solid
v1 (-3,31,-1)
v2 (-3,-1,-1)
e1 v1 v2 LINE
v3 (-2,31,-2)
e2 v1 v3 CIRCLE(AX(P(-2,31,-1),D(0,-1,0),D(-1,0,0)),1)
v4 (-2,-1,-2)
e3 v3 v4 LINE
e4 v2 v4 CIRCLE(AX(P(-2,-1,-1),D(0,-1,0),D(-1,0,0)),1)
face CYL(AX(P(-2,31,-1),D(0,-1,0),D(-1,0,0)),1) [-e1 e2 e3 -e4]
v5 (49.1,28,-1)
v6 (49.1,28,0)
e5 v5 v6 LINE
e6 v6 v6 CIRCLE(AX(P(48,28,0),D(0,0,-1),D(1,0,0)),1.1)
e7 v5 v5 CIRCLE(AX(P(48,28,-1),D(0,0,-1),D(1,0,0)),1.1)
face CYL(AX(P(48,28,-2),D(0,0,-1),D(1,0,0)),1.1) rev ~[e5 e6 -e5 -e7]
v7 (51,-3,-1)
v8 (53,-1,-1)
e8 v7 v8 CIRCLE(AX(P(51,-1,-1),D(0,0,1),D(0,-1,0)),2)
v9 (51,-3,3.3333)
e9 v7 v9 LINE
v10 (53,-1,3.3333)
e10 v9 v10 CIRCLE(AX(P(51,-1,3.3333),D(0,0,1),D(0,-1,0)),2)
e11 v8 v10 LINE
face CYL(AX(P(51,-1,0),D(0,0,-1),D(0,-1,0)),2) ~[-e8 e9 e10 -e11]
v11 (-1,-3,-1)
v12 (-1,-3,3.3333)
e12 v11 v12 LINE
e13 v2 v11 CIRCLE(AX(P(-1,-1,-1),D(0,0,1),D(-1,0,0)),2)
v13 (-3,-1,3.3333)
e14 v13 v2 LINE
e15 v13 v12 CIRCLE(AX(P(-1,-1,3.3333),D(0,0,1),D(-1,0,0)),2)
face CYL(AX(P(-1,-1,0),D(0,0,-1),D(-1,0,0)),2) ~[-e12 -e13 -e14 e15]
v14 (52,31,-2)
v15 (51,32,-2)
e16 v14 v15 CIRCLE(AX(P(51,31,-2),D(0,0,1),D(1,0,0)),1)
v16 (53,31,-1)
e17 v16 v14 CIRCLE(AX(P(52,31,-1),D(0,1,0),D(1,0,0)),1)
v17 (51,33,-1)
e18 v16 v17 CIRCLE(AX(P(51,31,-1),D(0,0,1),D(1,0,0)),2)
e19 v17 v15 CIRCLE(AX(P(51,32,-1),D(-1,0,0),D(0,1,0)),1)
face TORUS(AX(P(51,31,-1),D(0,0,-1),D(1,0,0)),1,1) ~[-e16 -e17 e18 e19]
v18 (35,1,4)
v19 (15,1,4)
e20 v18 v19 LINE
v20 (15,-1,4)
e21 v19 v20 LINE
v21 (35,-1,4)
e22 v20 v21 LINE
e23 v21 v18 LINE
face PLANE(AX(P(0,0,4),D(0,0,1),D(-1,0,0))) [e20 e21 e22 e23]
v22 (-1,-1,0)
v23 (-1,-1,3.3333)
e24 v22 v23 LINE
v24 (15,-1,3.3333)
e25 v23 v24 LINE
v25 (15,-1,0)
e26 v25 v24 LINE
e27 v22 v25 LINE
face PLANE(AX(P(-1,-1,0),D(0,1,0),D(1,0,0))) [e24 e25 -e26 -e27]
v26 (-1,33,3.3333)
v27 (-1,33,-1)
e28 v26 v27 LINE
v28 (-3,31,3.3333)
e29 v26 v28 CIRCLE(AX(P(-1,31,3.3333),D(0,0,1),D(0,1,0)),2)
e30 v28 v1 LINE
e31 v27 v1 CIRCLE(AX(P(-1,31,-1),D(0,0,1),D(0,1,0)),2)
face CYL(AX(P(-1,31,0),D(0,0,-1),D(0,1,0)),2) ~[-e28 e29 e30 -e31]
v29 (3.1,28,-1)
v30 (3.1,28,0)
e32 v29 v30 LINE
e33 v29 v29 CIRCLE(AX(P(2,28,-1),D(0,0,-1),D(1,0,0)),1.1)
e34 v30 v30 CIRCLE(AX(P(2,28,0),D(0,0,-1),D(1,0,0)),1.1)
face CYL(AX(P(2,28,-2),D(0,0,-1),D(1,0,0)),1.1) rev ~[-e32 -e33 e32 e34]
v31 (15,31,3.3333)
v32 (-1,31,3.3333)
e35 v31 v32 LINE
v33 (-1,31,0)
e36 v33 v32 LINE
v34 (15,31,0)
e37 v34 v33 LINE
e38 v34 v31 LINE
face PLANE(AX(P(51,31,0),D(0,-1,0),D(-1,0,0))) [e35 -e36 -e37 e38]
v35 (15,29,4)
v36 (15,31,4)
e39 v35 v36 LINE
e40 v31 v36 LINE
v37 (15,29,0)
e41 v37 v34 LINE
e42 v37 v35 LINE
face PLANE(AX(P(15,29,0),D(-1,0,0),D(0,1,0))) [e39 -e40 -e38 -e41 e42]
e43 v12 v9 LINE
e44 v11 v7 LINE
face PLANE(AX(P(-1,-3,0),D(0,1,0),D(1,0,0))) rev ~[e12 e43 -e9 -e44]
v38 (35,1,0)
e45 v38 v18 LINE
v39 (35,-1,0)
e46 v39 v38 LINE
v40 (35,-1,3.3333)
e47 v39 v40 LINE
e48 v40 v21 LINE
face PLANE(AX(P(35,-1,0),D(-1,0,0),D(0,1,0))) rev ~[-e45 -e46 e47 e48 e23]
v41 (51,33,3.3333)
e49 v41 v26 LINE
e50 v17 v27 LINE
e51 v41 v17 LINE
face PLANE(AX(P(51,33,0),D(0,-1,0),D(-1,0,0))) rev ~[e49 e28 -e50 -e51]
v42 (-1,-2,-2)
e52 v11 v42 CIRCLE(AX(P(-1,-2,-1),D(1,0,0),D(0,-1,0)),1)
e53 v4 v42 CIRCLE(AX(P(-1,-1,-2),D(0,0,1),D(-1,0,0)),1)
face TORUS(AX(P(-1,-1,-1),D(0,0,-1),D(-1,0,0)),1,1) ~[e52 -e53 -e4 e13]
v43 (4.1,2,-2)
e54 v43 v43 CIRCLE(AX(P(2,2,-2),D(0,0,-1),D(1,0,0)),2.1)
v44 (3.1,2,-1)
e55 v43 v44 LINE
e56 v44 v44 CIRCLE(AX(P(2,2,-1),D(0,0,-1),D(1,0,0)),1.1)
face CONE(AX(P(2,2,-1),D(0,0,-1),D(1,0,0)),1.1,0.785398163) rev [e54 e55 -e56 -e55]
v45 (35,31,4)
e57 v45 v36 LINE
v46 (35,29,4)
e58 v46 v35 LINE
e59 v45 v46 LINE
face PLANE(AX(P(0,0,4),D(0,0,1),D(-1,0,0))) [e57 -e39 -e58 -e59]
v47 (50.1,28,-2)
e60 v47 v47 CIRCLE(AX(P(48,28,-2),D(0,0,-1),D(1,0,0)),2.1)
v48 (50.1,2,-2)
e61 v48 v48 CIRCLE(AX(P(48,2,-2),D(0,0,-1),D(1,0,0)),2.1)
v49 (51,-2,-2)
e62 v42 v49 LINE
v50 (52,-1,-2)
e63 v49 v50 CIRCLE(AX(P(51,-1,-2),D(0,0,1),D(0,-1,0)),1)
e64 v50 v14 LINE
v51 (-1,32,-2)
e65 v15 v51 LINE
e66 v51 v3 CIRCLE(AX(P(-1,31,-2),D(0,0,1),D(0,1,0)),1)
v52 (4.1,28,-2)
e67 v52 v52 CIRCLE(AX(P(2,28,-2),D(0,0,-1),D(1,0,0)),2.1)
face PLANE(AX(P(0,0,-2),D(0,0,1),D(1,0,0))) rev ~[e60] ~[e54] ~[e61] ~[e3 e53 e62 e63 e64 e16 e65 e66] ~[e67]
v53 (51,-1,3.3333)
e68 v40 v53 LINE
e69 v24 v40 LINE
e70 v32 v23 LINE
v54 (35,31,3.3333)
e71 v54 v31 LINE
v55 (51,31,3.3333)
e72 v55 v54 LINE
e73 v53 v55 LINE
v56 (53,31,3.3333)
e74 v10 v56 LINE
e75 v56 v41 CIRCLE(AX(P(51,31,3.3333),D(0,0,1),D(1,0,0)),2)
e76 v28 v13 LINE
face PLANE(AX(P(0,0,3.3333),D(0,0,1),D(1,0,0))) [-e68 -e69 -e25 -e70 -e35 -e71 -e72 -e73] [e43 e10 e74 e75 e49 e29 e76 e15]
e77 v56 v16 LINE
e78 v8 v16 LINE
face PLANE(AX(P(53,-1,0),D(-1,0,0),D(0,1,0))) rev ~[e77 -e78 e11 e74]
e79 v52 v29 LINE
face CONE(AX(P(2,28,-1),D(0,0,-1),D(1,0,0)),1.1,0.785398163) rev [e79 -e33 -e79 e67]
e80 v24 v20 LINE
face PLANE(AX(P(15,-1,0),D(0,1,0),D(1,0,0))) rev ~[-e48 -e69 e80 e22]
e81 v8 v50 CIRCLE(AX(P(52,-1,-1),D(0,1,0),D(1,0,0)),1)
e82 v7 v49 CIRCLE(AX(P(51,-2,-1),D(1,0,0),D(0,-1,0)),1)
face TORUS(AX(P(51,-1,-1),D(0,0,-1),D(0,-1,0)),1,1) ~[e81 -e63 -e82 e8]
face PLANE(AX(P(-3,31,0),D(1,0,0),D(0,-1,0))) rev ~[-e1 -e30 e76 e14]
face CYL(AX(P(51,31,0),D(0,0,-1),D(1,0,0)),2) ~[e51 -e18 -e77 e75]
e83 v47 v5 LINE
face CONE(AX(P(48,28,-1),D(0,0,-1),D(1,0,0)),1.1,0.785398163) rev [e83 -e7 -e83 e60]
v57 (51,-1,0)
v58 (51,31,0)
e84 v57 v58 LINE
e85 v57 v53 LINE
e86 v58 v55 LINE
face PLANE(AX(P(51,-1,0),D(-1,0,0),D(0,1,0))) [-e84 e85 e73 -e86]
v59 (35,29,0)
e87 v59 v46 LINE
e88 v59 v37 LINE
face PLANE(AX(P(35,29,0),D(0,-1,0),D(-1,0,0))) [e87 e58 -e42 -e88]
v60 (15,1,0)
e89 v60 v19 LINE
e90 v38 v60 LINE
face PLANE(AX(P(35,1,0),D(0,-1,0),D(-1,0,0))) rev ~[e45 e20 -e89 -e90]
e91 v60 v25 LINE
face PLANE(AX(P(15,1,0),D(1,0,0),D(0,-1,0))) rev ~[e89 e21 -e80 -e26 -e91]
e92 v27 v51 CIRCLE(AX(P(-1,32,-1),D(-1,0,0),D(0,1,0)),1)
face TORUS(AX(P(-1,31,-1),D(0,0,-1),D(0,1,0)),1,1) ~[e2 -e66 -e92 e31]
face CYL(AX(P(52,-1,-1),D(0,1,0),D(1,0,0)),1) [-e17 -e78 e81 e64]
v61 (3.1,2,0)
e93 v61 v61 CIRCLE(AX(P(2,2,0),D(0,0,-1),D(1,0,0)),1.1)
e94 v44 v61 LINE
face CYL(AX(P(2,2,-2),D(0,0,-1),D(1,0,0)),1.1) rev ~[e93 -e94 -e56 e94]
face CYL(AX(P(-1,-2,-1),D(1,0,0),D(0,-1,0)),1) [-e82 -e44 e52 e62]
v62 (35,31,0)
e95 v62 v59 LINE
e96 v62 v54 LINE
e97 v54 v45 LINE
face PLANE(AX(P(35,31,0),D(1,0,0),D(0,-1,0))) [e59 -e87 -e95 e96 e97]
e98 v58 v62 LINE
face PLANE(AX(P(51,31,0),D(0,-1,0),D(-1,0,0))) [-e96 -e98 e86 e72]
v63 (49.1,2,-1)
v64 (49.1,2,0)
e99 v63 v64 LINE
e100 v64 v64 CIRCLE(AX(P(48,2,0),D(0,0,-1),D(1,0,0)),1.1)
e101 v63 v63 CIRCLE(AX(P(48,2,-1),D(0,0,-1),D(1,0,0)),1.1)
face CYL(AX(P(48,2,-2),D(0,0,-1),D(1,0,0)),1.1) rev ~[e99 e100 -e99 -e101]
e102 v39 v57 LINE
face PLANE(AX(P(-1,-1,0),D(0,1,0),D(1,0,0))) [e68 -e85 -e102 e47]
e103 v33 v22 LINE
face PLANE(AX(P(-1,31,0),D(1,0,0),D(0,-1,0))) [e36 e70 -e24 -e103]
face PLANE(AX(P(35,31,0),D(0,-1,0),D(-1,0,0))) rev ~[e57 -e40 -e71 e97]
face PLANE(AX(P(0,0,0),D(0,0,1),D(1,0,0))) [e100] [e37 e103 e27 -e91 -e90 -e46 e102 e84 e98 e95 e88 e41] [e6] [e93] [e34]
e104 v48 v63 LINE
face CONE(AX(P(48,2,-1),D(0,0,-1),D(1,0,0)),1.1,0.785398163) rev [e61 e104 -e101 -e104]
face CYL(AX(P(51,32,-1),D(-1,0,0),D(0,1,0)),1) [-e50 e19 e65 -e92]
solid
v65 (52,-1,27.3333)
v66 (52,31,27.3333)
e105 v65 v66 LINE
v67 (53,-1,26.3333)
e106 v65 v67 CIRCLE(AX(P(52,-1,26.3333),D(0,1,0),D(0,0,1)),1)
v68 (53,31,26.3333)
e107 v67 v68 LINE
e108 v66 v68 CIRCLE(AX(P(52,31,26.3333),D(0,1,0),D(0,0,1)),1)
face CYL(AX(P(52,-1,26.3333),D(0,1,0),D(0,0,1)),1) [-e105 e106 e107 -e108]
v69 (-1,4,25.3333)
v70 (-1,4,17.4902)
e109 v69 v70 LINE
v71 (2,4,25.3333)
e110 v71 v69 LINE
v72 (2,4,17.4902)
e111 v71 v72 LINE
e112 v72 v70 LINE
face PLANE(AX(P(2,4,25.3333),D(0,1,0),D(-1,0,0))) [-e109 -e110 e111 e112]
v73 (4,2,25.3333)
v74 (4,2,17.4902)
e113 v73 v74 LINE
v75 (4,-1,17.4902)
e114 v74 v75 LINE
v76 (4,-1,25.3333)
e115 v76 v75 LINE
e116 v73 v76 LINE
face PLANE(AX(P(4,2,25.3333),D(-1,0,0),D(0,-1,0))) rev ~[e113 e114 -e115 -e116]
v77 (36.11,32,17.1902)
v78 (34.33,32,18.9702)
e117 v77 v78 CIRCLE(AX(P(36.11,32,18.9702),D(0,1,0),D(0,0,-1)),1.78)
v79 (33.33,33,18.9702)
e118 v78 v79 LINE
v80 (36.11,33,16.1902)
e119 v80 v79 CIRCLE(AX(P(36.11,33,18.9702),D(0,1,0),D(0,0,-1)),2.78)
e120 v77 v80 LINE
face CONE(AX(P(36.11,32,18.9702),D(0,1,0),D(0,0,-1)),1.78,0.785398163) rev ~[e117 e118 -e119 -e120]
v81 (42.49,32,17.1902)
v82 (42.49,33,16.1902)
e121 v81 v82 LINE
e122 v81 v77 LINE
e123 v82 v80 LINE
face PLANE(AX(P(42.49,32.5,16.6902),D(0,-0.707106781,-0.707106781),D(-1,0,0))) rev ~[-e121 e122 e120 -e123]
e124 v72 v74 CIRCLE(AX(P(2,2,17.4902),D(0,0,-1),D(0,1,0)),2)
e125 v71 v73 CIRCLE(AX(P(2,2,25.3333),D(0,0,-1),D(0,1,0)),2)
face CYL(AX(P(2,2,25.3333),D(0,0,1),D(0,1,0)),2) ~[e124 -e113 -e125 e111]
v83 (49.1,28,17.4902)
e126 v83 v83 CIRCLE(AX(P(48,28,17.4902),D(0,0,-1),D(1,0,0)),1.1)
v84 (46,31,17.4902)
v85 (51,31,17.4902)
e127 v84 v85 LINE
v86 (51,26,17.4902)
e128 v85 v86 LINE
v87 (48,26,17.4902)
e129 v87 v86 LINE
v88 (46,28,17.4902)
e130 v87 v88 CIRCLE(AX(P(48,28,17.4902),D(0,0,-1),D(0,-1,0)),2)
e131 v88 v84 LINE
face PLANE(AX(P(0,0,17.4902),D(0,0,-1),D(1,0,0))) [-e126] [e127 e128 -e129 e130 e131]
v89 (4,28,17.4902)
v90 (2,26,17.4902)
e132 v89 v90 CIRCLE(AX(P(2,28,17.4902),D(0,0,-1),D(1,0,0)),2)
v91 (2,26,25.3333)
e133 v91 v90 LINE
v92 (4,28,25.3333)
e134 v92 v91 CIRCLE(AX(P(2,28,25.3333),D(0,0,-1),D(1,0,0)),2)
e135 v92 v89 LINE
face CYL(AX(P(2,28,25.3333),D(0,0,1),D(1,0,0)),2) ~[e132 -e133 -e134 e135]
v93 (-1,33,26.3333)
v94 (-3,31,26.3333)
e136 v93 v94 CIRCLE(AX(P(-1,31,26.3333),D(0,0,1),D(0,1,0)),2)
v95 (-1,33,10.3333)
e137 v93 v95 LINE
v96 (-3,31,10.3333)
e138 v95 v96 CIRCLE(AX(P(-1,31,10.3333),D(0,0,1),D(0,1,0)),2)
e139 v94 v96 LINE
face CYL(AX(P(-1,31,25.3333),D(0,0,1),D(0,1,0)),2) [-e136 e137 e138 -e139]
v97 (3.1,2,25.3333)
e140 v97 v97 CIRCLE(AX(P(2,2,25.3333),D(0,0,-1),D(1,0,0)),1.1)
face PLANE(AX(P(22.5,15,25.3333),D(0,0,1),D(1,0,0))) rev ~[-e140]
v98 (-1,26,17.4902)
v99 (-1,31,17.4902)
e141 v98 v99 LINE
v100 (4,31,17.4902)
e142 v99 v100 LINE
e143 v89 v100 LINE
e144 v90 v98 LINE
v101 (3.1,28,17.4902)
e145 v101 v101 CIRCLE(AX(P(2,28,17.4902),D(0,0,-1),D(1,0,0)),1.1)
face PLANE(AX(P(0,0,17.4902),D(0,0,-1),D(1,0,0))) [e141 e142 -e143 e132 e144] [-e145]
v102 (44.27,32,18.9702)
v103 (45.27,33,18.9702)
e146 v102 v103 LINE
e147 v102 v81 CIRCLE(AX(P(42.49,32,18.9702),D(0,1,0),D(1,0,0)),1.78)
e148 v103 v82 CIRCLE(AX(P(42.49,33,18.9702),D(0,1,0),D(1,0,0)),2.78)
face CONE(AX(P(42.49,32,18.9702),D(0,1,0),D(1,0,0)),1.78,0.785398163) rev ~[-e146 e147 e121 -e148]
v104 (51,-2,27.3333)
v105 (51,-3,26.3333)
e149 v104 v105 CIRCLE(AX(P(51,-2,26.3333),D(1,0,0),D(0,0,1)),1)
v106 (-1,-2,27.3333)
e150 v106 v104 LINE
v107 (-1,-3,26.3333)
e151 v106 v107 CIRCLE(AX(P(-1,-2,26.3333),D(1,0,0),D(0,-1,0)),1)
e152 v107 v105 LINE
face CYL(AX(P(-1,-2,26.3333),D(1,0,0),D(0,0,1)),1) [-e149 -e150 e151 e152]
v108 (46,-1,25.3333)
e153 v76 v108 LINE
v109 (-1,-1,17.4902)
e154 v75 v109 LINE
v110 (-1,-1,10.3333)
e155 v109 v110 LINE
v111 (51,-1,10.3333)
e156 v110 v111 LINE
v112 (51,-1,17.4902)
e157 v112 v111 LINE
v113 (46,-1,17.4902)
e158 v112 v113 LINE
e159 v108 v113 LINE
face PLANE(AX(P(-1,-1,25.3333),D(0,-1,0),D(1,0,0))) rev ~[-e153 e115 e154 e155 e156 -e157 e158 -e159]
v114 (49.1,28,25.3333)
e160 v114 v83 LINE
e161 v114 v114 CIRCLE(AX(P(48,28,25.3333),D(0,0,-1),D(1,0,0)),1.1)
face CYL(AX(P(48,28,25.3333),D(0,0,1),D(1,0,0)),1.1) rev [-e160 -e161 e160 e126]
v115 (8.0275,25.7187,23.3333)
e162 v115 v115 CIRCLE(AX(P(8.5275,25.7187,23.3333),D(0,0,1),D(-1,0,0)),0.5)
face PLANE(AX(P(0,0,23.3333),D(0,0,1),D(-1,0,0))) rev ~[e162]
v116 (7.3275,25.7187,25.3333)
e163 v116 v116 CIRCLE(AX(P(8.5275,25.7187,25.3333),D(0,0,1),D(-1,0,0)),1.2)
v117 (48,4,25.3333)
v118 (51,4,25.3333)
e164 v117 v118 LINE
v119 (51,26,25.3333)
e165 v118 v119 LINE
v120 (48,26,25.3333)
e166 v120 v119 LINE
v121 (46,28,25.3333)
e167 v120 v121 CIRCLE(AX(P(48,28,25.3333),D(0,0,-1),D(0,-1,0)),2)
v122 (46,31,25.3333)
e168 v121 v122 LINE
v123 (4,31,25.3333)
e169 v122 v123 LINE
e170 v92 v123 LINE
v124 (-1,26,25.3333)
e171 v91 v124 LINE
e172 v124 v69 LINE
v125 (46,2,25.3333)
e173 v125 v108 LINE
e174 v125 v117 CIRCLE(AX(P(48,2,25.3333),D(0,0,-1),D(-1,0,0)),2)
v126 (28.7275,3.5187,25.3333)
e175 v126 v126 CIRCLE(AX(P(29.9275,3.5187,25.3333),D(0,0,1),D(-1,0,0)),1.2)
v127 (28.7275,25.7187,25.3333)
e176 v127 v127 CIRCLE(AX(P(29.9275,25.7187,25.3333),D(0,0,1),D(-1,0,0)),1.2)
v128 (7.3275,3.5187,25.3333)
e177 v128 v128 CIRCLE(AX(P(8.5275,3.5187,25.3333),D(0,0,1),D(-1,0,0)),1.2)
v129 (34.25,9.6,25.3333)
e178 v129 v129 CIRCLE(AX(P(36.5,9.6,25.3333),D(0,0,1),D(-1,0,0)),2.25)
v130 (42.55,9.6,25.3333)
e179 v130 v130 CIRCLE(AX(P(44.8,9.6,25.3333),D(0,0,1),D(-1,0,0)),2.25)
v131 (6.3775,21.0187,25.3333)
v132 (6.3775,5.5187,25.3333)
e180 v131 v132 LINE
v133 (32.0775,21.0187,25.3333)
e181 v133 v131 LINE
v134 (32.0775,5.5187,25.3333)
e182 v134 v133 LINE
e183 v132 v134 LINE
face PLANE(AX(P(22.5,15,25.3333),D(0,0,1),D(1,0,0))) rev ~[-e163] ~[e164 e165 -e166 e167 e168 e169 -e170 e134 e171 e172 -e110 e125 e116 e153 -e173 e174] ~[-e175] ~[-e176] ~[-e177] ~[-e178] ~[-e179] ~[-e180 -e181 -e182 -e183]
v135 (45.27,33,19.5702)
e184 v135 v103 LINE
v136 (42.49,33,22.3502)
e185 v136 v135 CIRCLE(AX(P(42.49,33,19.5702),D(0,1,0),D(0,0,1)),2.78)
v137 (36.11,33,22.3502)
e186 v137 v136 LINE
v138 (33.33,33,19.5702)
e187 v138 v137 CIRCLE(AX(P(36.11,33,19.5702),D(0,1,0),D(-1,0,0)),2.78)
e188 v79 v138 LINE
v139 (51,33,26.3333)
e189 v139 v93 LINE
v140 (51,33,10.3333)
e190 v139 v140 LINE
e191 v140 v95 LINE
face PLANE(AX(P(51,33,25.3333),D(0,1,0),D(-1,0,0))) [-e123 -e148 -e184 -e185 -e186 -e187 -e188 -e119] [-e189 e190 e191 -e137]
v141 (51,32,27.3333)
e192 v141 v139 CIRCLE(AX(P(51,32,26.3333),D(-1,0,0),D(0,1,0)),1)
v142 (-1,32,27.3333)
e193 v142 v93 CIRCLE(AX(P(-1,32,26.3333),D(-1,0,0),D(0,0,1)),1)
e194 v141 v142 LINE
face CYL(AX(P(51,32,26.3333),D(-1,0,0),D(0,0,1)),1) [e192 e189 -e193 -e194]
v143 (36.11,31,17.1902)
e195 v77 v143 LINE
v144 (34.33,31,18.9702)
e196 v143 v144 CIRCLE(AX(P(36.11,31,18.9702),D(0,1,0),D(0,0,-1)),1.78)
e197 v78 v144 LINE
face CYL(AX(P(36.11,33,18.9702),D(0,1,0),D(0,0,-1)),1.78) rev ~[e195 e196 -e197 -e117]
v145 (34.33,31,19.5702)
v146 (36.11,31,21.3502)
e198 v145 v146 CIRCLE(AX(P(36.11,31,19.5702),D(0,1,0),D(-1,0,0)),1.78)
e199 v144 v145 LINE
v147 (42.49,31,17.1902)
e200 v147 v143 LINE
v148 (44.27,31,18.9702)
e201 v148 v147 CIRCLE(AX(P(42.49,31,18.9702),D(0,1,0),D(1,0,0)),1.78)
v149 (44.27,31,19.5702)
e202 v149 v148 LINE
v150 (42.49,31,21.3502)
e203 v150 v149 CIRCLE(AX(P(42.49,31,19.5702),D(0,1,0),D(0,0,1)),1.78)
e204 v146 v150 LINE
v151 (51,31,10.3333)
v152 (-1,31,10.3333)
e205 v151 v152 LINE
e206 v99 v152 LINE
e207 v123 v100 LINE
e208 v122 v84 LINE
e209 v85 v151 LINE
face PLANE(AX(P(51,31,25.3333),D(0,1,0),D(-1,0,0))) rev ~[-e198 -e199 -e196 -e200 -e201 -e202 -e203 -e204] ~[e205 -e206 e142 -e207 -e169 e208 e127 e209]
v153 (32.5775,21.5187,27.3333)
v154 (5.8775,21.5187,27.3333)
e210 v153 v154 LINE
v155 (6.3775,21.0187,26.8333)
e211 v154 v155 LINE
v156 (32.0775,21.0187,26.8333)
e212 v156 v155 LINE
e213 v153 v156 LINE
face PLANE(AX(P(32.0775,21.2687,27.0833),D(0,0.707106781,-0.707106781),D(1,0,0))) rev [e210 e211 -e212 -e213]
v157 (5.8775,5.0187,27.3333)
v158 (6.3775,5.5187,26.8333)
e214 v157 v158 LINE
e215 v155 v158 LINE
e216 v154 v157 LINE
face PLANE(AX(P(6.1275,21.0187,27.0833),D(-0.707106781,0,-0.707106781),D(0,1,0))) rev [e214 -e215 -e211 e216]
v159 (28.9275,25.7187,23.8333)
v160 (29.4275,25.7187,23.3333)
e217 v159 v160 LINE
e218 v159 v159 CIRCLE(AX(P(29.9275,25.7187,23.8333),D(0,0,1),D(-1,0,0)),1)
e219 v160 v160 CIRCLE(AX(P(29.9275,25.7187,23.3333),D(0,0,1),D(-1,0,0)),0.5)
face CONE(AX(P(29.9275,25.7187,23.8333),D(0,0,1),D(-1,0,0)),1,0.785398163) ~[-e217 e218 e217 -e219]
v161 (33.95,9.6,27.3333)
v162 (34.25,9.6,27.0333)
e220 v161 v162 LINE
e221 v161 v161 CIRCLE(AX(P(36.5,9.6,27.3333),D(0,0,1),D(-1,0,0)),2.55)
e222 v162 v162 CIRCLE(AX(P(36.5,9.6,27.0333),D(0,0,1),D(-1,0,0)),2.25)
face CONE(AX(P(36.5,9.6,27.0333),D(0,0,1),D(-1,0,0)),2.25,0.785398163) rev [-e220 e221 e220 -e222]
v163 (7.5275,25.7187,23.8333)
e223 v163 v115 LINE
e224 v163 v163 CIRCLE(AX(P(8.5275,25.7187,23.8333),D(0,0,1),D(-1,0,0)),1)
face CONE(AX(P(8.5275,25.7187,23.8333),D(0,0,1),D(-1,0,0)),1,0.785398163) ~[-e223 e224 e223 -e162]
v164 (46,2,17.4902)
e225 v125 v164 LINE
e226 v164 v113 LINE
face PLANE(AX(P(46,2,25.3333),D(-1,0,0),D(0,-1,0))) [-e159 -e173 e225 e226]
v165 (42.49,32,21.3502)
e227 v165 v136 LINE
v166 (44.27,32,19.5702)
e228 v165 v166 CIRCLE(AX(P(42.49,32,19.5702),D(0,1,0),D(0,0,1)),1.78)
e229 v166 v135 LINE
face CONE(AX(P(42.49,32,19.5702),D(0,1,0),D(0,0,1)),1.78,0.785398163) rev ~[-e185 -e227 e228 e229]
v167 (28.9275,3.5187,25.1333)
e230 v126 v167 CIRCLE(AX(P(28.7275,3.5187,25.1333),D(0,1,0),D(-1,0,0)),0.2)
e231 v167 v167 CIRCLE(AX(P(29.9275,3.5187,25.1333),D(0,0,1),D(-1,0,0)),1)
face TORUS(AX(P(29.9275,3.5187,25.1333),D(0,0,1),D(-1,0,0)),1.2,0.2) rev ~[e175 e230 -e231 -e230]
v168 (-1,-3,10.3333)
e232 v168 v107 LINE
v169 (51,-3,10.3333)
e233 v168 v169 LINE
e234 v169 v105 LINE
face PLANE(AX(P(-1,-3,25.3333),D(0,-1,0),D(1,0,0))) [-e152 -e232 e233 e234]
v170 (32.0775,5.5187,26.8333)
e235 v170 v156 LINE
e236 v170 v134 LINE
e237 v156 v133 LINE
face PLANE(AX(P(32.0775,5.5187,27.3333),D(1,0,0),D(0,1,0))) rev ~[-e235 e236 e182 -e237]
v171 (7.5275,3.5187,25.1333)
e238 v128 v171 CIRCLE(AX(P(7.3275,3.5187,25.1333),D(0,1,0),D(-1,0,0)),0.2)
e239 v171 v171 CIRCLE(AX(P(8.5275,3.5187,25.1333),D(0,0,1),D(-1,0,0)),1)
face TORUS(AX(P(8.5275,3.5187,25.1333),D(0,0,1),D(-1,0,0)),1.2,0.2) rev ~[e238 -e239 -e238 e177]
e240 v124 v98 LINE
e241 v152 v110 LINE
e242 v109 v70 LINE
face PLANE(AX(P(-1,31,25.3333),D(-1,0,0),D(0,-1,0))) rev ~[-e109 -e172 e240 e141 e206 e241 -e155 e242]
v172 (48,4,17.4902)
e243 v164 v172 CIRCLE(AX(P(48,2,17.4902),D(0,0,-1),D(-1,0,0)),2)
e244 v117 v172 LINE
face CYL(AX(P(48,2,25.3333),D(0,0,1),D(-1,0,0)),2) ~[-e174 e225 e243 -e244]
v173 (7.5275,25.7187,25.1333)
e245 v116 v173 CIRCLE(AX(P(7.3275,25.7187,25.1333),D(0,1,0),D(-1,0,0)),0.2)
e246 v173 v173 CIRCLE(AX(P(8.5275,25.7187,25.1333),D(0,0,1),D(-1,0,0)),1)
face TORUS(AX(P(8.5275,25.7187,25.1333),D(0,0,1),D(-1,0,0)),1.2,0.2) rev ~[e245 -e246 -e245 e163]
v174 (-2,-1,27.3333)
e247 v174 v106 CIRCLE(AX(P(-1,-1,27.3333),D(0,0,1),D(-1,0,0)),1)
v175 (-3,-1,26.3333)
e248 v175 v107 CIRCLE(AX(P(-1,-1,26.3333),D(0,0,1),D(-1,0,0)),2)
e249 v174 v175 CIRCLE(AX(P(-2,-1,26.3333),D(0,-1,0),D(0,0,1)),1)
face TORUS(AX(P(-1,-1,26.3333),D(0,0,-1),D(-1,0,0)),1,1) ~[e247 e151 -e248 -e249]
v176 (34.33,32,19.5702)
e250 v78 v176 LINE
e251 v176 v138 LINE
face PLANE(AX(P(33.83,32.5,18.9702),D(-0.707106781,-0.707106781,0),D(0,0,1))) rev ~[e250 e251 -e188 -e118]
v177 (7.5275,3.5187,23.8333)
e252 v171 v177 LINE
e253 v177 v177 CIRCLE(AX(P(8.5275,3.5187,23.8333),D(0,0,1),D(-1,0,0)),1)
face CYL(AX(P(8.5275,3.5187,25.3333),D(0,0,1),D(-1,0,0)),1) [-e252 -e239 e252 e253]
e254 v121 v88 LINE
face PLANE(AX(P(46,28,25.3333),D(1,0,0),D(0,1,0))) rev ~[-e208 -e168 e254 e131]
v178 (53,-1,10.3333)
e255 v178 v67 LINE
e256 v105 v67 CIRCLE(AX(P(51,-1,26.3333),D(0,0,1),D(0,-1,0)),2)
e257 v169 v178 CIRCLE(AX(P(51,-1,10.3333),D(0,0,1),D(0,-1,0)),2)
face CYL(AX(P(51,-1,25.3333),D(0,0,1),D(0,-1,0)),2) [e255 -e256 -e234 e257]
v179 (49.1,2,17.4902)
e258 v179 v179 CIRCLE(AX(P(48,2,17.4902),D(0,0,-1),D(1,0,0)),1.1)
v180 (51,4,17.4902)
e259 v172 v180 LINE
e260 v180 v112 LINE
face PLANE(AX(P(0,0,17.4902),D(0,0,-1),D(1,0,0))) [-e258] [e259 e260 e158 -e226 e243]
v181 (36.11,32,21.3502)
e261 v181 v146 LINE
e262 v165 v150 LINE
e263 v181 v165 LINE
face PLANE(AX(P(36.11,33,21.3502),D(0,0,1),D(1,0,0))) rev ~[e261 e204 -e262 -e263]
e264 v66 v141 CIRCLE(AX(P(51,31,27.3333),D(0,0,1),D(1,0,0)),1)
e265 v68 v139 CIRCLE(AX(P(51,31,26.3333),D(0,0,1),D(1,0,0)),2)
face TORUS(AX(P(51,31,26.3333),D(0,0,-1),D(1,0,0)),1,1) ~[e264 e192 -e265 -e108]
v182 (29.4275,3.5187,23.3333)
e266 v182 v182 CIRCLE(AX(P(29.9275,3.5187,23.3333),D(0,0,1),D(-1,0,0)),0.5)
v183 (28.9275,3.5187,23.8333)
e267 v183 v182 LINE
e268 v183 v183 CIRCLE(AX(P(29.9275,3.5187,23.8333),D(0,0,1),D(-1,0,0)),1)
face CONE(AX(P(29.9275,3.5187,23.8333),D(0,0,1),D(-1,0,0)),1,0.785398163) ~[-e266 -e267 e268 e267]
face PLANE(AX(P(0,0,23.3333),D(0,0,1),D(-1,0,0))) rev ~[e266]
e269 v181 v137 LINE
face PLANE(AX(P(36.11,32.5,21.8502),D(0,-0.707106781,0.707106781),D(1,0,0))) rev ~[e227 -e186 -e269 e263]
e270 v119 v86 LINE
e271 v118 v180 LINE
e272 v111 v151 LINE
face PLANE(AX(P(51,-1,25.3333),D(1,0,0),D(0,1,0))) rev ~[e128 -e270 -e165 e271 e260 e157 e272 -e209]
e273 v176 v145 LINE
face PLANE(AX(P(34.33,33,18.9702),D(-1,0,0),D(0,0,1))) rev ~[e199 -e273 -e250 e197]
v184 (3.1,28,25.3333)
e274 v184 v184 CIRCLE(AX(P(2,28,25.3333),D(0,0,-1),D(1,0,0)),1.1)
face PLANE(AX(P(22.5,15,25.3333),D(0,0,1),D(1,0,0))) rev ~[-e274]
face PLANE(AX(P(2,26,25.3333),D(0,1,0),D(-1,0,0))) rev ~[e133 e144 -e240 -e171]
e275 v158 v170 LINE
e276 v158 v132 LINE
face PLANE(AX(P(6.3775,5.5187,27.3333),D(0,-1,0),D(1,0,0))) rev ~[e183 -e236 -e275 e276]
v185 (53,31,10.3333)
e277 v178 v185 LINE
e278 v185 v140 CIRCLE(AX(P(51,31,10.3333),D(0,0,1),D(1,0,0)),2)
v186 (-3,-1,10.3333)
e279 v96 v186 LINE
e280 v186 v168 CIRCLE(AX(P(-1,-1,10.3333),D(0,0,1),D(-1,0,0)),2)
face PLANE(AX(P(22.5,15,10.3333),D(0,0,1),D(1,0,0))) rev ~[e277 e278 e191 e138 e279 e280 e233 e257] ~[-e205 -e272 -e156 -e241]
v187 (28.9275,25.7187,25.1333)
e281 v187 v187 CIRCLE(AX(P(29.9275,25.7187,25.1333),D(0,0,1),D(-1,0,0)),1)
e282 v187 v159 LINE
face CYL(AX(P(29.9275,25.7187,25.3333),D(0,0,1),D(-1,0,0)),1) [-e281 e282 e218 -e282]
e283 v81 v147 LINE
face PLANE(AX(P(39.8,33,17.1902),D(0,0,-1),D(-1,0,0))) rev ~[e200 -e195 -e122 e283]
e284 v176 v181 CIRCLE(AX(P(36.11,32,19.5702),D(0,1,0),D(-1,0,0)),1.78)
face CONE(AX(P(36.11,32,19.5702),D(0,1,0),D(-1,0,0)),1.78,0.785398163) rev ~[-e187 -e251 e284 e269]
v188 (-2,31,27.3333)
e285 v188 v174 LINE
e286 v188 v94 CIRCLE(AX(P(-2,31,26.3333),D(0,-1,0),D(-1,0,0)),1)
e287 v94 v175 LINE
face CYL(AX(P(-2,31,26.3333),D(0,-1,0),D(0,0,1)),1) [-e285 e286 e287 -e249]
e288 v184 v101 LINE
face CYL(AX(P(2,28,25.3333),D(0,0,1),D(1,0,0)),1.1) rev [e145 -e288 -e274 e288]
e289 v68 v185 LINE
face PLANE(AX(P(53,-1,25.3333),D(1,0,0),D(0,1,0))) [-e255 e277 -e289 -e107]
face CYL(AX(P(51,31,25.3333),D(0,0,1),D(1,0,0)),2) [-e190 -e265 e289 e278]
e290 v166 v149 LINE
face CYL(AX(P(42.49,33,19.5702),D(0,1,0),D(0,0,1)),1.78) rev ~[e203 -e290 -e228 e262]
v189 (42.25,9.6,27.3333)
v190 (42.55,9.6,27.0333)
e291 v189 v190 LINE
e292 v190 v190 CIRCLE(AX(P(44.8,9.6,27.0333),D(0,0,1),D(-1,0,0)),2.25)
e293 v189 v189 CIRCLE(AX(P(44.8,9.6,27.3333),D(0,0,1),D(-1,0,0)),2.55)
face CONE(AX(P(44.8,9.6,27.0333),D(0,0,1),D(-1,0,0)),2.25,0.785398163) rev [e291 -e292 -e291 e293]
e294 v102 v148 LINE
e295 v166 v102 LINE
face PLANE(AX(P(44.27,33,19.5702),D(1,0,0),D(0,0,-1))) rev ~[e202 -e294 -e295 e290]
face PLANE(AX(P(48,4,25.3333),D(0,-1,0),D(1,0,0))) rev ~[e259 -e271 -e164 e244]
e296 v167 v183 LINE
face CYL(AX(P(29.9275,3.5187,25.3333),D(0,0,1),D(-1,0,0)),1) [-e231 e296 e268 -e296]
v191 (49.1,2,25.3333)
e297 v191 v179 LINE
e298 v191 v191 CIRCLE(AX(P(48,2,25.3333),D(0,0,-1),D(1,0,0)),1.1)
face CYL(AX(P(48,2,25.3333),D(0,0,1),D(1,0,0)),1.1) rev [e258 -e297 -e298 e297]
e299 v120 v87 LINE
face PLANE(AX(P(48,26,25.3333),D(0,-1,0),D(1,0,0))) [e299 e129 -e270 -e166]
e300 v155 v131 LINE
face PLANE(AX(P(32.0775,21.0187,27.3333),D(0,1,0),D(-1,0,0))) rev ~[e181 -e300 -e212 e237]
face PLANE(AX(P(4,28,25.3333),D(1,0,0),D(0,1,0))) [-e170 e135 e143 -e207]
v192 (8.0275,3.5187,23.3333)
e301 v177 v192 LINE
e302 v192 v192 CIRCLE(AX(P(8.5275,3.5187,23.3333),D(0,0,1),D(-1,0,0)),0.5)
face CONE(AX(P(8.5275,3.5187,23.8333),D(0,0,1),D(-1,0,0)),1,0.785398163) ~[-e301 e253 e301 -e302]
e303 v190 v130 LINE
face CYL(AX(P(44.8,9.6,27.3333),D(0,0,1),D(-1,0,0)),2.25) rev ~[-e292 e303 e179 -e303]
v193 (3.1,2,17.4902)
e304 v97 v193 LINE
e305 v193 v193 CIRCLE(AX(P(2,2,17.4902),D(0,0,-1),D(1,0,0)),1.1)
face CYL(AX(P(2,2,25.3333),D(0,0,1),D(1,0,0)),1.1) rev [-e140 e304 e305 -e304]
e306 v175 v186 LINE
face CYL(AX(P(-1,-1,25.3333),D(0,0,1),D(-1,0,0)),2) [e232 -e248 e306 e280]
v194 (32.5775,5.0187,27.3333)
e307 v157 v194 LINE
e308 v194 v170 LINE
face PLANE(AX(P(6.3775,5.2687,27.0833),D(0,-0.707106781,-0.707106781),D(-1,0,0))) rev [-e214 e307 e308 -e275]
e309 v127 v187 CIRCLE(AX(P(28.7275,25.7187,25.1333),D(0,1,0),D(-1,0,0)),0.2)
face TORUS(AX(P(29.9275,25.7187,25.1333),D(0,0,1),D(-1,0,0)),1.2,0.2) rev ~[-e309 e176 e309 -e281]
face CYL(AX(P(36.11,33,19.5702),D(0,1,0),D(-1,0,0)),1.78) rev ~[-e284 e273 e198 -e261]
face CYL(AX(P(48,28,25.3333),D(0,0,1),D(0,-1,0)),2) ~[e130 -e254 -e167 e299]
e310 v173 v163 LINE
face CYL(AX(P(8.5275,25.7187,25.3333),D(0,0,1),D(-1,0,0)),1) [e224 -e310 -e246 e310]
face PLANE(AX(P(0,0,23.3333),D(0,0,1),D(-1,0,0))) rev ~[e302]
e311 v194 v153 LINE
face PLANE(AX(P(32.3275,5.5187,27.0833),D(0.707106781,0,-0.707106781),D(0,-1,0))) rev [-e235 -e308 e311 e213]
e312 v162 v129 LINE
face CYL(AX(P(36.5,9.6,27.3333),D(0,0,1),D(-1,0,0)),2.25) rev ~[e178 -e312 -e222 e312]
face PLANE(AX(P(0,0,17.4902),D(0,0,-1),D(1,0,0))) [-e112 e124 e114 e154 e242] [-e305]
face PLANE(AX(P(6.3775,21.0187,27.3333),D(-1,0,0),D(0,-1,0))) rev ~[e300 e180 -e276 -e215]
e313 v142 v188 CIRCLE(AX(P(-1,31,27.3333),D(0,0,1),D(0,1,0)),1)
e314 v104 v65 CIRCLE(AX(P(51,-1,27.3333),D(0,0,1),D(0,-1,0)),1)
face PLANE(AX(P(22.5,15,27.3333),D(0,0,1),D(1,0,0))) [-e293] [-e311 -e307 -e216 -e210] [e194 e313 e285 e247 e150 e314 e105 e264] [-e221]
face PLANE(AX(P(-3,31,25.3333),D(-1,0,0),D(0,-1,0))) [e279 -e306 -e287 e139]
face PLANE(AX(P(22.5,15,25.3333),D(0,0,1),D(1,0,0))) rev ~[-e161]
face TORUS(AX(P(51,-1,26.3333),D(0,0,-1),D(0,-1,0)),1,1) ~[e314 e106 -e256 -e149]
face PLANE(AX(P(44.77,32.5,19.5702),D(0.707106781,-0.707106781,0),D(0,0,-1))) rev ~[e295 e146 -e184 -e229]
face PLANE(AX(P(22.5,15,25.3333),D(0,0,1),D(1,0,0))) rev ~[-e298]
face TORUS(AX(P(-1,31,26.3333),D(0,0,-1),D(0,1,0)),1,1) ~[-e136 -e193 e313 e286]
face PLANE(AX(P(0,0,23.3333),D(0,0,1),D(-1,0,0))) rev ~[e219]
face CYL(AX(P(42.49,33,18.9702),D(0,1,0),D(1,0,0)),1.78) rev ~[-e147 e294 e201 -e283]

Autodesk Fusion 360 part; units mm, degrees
sketch "Sketch1" plane through (0, 0, 0) normal (0, 0, 1) x (1, 0, 0) in component "Enclosure-Bottom"
  line L0 (0, 0) -> (50, 0) construction
  line L1 (50, 0) -> (50, 30) construction
  line L2 (50, 30) -> (0, 30) construction
  line L3 (0, 30) -> (0, 0) construction
  line L4 (-1, -1) -> (51, -1)
  line L5 (51, -1) -> (51, 31)
  line L6 (51, 31) -> (-1, 31)
  line L7 (-1, 31) -> (-1, -1)
  line L8 (-1, -3) -> (51, -3)
  line L9 (53, -1) -> (53, 31)
  line L10 (51, 33) -> (-1, 33)
  line L11 (-3, 31) -> (-3, -1)
  arc A0 (53, 31) -> (51, 33) centre (51, 31) ccw
  arc A1 (-1, 33) -> (-3, 31) centre (-1, 31) ccw
  arc A2 (-3, -1) -> (-1, -3) centre (-1, -1) ccw
  arc A3 (51, -3) -> (53, -1) centre (51, -1) ccw
  dimension "d1" = 50
  dimension "d2" = 30
  dimension "d5" = 1
  dimension "d9" = 2
  dimension "d23" = 3
  dimension "d25" = 3
  dimension "d26" = 3
  dimension "d27" = 3
extrude "Extrude1" add sketch "Sketch1" against normal blind 2 contours L4 L5 L6 L7 | L8 L9 L10 L11 A0 A1 A2 A3 makes body 1 in component "Enclosure-Bottom"
extrude "Extrude2" add sketch "Sketch1" along normal blind 3.3333 bodies 1 in component "Enclosure-Bottom"
ref_plane "WorkPlane1" through (25, 15, 25.3333) normal (0, 0, 1) x (1, 0, 0)
sketch "Sketch1 (2)" plane through (22.5, 15, 25.3333) normal (0, 0, 1) x (1, 0, 0) in component "Enclosure-Top"
  line L0 (-23.5, -16) -> (28.5, -16)
  line L1 (-23.5, 16) -> (-23.5, -16)
  line L2 (28.5, 16) -> (-23.5, 16)
  line L3 (28.5, -16) -> (28.5, 16)
  line L4 (-23.5, -18) -> (28.5, -18)
  arc A0 (28.5, -18) -> (30.5, -16) centre (28.5, -16) ccw
  line L5 (30.5, -16) -> (30.5, 16)
  line L6 (-25.5, 16) -> (-25.5, -16)
  arc A1 (-25.5, -16) -> (-23.5, -18) centre (-23.5, -16) ccw
  line L7 (28.5, 18) -> (-23.5, 18)
  arc A2 (-23.5, 18) -> (-25.5, 16) centre (-23.5, 16) ccw
  arc A3 (30.5, 16) -> (28.5, 18) centre (28.5, 16) ccw
extrude "Extrude1'" add sketch "Sketch1 (2)" against normal blind 15 separate body makes body 2 in component "Enclosure-Top"
extrude "Extrude2'" add sketch "Sketch1 (2)" along normal blind 2 contours L0 L1 L2 L3 | L4 A0 L5 L6 A1 L7 A2 A3 bodies 2 in component "Enclosure-Top"
fillet "Fillet1" radius 1 8 edges at (53, 15, 27.3333) (52.4142, 32.4142, 27.3333) (25, 33, 27.3333) (-2.4142, 32.4142, 27.3333) (-3, 15, 27.3333) (-2.4142, -2.4142, 27.3333) (25, -3, 27.3333) (52.4142, -2.4142, 27.3333) on bodies 2 in component "Enclosure-Top"
fillet "Fillet1'" radius 1 8 edges at (-3, 15, -2) (-2.4142, 32.4142, -2) (25, 33, -2) (52.4142, 32.4142, -2) (53, 15, -2) (52.4142, -2.4142, -2) (25, -3, -2) (-2.4142, -2.4142, -2) on bodies 1 in component "Enclosure-Bottom"
sketch "Sketch2" plane through (0, 0, 25.3333) normal (0, 0, -1) x (1, 0, 0) in component "Enclosure-Top"
  line L0 (51, 1) -> (-1, 1)
  line L1 (-1, 1) -> (-1, -31)
  line L2 (-1, -31) -> (51, -31)
  line L3 (51, -31) -> (51, 1)
  line L4 (51, -2) -> (-1, -2) construction
  line L5 (2, 1) -> (2, -31) construction
  line L6 (-1, 1) -> (51, 1)
  line L7 (-1, -31) -> (-1, 1)
  line L8 (51, 1) -> (51, -31)
  line L9 (51, -31) -> (-1, -31)
  line L10 (25, 1) -> (25, -31) construction
  line L11 (51, -15) -> (-1, -15) construction
  line L12 (51, -28) -> (-1, -28) construction
  line L13 (48, 1) -> (48, -31) construction
  circle A0 centre (48, -2) radius 1.1
  line L14 (48, -4) -> (51, -4)
  line L15 (46, -2) -> (46, 1)
  arc A1 (46, -2) -> (48, -4) centre (48, -2) ccw
  circle A2 centre (2, -2) radius 1.1
  line L16 (4, -2) -> (4, 1)
  arc A3 (2, -4) -> (4, -2) centre (2, -2) ccw
  line L17 (2, -4) -> (-1, -4)
  circle A4 centre (2, -28) radius 1.1
  line L18 (4, -28) -> (4, -31)
  arc A5 (4, -28) -> (2, -26) centre (2, -28) ccw
  line L19 (2, -26) -> (-1, -26)
  line L20 (48, -26) -> (51, -26)
  circle A6 centre (48, -28) radius 1.1
  arc A7 (48, -26) -> (46, -28) centre (48, -28) ccw
  line L21 (46, -28) -> (46, -31)
  dimension "d28" = 3
  dimension "d29" = 3
  dimension "d30" = 2.2
  dimension "d31" = 4
extrude "Extrude3" add sketch "Sketch2" along normal blind 7.8431 contours L0 L3 L6 L8 L14 L15 A1 | L0 L1 L6 L7 L16 A3 L17 | L2 L3 L8 L9 L20 A7 L21 | L1 L2 L7 L9 L18 A5 L19 bodies 2 in component "Enclosure-Top"
sketch "Sketch2 (2)" plane through (0, 0, 0) normal (0, 0, 1) x (-1, 0, 0) in component "Enclosure-Bottom"
  line L0 (1, 1) -> (-51, 1)
  line L1 (-51, 1) -> (-51, -31)
  line L2 (-51, -31) -> (1, -31)
  line L3 (1, -31) -> (1, 1)
  line L4 (1, -31) -> (-51, -31)
  line L5 (-51, -31) -> (-51, 1)
  line L6 (1, 1) -> (1, -31)
  line L7 (-51, 1) -> (1, 1)
  line L8 (-15, -31) -> (-35, -31)
  line L9 (-35, -31) -> (-35, -29)
  line L10 (-35, -29) -> (-15, -29)
  line L11 (-15, -29) -> (-15, -31)
  line L12 (-25, -31) -> (-25, 1) construction
  line L13 (-51, -15) -> (1, -15) construction
  line L14 (-35, -1) -> (-15, -1)
  line L15 (-15, -1) -> (-15, 1)
  line L16 (-35, 1) -> (-35, -1)
  dimension "d34" = 2
  dimension "d35" = 20
  dimension "d36" = 10
extrude "Extrude3'" add sketch "Sketch2 (2)" along normal blind 4 contours L0 L7 L14 L15 L16 | L2 L4 L8 L9 L10 L11 bodies 1 in component "Enclosure-Bottom"
sketch "Sketch4" plane through (0, 0, -2) normal (0, 0, -1) x (1, 0, 0) in component "Enclosure-Bottom"
  line L0 (-2, 1) -> (-2, -31)
  arc A0 (-2, -31) -> (-1, -32) centre (-1, -31) ccw
  line L1 (-1, -32) -> (51, -32)
  arc A1 (51, -32) -> (52, -31) centre (51, -31) ccw
  line L2 (52, -31) -> (52, 1)
  arc A2 (52, 1) -> (51, 2) centre (51, 1) ccw
  line L3 (51, 2) -> (-1, 2)
  arc A3 (-1, 2) -> (-2, 1) centre (-1, 1) ccw
  circle A4 centre (48, -2) radius 1.1
  circle A5 centre (2, -2) radius 1.1
  circle A6 centre (2, -28) radius 1.1
  circle A7 centre (48, -28) radius 1.1
extrude "Extrude4" cut sketch "Sketch4" against normal up to surface (2 mm away) contours A4 | A5 | A6 | A7 bodies 1 in component "Enclosure-Bottom"
chamfer "Chamfer1" distance 1 angle 45 4 edges at (0.9744, 27.6022, -2) (46.9744, 27.6022, -2) (46.9744, 1.6022, -2) (0.9744, 1.6022, -2) on bodies 1 in component "Enclosure-Bottom"
sketch "Sketch3" plane through (0, 0, 27.3333) normal (0, 0, 1) x (-1, 0, 0) in component "Enclosure-Top"
  line L0 (-52, 1) -> (-52, -31)
  arc A0 (-52, -31) -> (-51, -32) centre (-51, -31) ccw
  line L1 (-51, -32) -> (1, -32)
  arc A1 (1, -32) -> (2, -31) centre (1, -31) ccw
  line L2 (2, -31) -> (2, 1)
  arc A2 (2, 1) -> (1, 2) centre (1, 1) ccw
  line L3 (1, 2) -> (-51, 2)
  arc A3 (-51, 2) -> (-52, 1) centre (-51, 1) ccw
  circle A4 centre (-36.5, -9.6) radius 2.25
  circle A5 centre (-44.8, -9.6) radius 2.25
  line L4 (-6.3775, -5.5187) -> (-32.0775, -5.5187)
  line L5 (-32.0775, -5.5187) -> (-32.0775, -21.0187)
  line L6 (-32.0775, -21.0187) -> (-6.3775, -21.0187)
  line L7 (-6.3775, -21.0187) -> (-6.3775, -5.5187)
extrude "Extrude4'" cut sketch "Sketch3" against normal up to surface (2 mm away) contours A4 | A5 | L4 L5 L6 L7 bodies 2 in component "Enclosure-Top"
chamfer "Chamfer2" distance 0.5 angle 45 4 edges at (6.3775, 13.2687, 27.3333) (19.2275, 21.0187, 27.3333) (32.0775, 13.2687, 27.3333) (19.2275, 5.5187, 27.3333) on bodies 2 in component "Enclosure-Top"
chamfer "Chamfer2" distance 0.3 angle 45 1 edges at (46.8977, 8.7864, 27.3333) on bodies 2 in component "Enclosure-Top"
chamfer "Chamfer2" distance 0.3 angle 45 1 edges at (38.5977, 8.7864, 27.3333) on bodies 2 in component "Enclosure-Top"
sketch "Sketch4 (2)" plane through (0, 0, 25.3333) normal (0, 0, 1) x (-1, 0, 0) in component "Enclosure-Top"
  line L0 (-6.3775, -21.0187) -> (-32.0775, -21.0187)
  line L1 (-32.0775, -21.0187) -> (-32.0775, -5.5187)
  line L2 (-32.0775, -5.5187) -> (-6.3775, -5.5187)
  line L3 (-6.3775, -5.5187) -> (-6.3775, -21.0187)
  circle A0 centre (-36.5, -9.6) radius 2.25
  circle A1 centre (-44.8, -9.6) radius 2.25
  line L4 (-52, 1) -> (-52, -31)
  arc A2 (-52, -31) -> (-51, -32) centre (-51, -31) ccw
  line L5 (-51, -32) -> (1, -32)
  arc A3 (1, -32) -> (2, -31) centre (1, -31) ccw
  line L6 (2, -31) -> (2, 1)
  arc A4 (2, 1) -> (1, 2) centre (1, 1) ccw
  line L7 (1, 2) -> (-51, 2)
  arc A5 (-51, 2) -> (-52, 1) centre (-51, 1) ccw
  circle A6 centre (-8.5275, -25.7187) radius 1
  circle A7 centre (-29.9275, -25.7187) radius 1
  circle A8 centre (-8.5275, -3.5187) radius 1
  circle A9 centre (-29.9275, -3.5187) radius 1
  circle A10 centre (-8.5275, -25.7187) radius 1
  circle A11 centre (-29.9275, -25.7187) radius 1
  circle A12 centre (-8.5275, -3.5187) radius 1
  circle A13 centre (-29.9275, -3.5187) radius 1
  line L8 (-32.0775, -21.0187) -> (-6.3775, -21.0187)
  line L9 (-6.3775, -21.0187) -> (-6.3775, -5.5187)
  line L10 (-6.3775, -5.5187) -> (-32.0775, -5.5187)
  line L11 (-32.0775, -5.5187) -> (-32.0775, -21.0187)
  circle A14 centre (-36.5, -9.6) radius 2.25
  circle A15 centre (-44.8, -9.6) radius 2.25
  line L12 (-2, -4) -> (1, -4)
  line L13 (1, -4) -> (1, -26)
  line L14 (1, -26) -> (-2, -26)
  arc A16 (-2, -26) -> (-4, -28) centre (-2, -28) ccw
  line L15 (-4, -28) -> (-4, -31)
  line L16 (-4, -31) -> (-46, -31)
  line L17 (-46, -31) -> (-46, -28)
  arc A17 (-46, -28) -> (-48, -26) centre (-48, -28) ccw
  line L18 (-48, -26) -> (-51, -26)
  line L19 (-51, -26) -> (-51, -4)
  line L20 (-51, -4) -> (-48, -4)
  arc A18 (-48, -4) -> (-46, -2) centre (-48, -2) ccw
  line L21 (-46, -2) -> (-46, 1)
  line L22 (-46, 1) -> (-4, 1)
  line L23 (-4, 1) -> (-4, -2)
  arc A19 (-4, -2) -> (-2, -4) centre (-2, -2) ccw
  dimension "d49" = 2
  dimension "d50" = 2
  dimension "d51" = 2
  dimension "d52" = 2
extrude "Extrude5" add sketch "Sketch4 (2)" against normal blind 2 contours A6 A10 | A7 A11 | A8 A12 | A9 A13 bodies 2 in component "Enclosure-Top"
fillet "Fillet2" radius 0.2 4 edges at (30.8598, 3.8803, 25.3333) (30.8598, 26.0803, 25.3333) (9.4598, 3.8803, 25.3333) (9.4598, 26.0803, 25.3333) on bodies 2 in component "Enclosure-Top"
chamfer "Chamfer1'" distance 0.5 angle 45 4 edges at (9.4598, 3.1571, 23.3333) (30.8598, 3.1571, 23.3333) (9.4598, 25.3571, 23.3333) (30.8598, 25.3571, 23.3333) on bodies 2 in component "Enclosure-Top"
sketch "Sketch5" plane through (0, 33, 0) normal (0, 1, 0) x (-1, 0, 0) in component "Enclosure-Top"
  line L0 (1, 26.3333) -> (-51, 26.3333)
  line L1 (-51, 26.3333) -> (-51, 10.3333)
  line L2 (-51, 10.3333) -> (1, 10.3333)
  line L3 (1, 10.3333) -> (1, 26.3333)
  line L4 (-39.75, 17.1902) -> (-36.11, 17.1902)
  arc A0 (-36.11, 17.1902) -> (-34.33, 18.9702) centre (-36.11, 18.9702) ccw
  line L5 (-34.33, 18.9702) -> (-34.33, 19.5702)
  arc A1 (-34.33, 19.5702) -> (-36.11, 21.3502) centre (-36.11, 19.5702) ccw
  line L6 (-36.11, 21.3502) -> (-42.49, 21.3502)
  arc A2 (-42.49, 21.3502) -> (-44.27, 19.5702) centre (-42.49, 19.5702) ccw
  line L7 (-44.27, 19.5702) -> (-44.27, 18.9702)
  arc A3 (-44.27, 18.9702) -> (-42.49, 17.1902) centre (-42.49, 18.9702) ccw
  line L8 (-42.49, 17.1902) -> (-39.8, 17.1902)
  line L9 (-39.8, 17.1902) -> (-39.75, 17.1902)
extrude "Extrude6" cut sketch "Sketch5" against normal up to surface (2 mm away) contours L4 A0 L5 A1 L6 A2 L7 A3 L8 L9 bodies 2 in component "Enclosure-Top"
chamfer "Chamfer3" distance 1 angle 45 8 edges at (34.8513, 33, 20.8288) (34.33, 33, 19.2702) (34.8513, 33, 17.7115) (39.3, 33, 17.1902) (43.7487, 33, 17.7115) (44.27, 33, 19.2702) (43.7487, 33, 20.8288) (39.3, 33, 21.3502) on bodies 2 in component "Enclosure-Top"
component "Enclosure-Bottom" placed x (1, 0, 0) y (0, 1, 0) z (0, 0, 1) at (0, 0, 0)
component "Enclosure-Top" placed x (1, 0, 0) y (0, 1, 0) z (0, 0, 1) at (0, 0, 0)
equation "d1 = length"
equation "d2 = width"
equation "wall_thickness = 2 mm"
equation "margin = 1 mm"
equation "d5 = margin"
equation "fillet_radius = 2 mm"
equation "height = 20 mm"
equation "d9 = fillet_radius"
equation "d10 = -wall_thickness"
equation "d12 = height / 6"
equation "d14 = height + wall_thickness"
equation "d15 = -height * ( 3 / 4 )"
equation "d17 = wall_thickness"
equation "d20 = 0.5 * fillet_radius"
equation "d22 = 0.5 * fillet_radius"
equation "d23 = wall_thickness + margin"
equation "d25 = wall_thickness + margin"
equation "d26 = wall_thickness + margin"
equation "d27 = wall_thickness + margin"
equation "d28 = 2 mm + margin"
equation "d29 = 2 mm + margin"
equation "d32 = height / 2.55"
equation "d34 = wall_thickness"
equation "d35 = 10 * wall_thickness"
equation "d36 = ( 10 * wall_thickness ) / 2"
equation "d37 = height / 5"
equation "length = 50 mm"
equation "width = 30 mm"
equation "d53 = -height / 10"
